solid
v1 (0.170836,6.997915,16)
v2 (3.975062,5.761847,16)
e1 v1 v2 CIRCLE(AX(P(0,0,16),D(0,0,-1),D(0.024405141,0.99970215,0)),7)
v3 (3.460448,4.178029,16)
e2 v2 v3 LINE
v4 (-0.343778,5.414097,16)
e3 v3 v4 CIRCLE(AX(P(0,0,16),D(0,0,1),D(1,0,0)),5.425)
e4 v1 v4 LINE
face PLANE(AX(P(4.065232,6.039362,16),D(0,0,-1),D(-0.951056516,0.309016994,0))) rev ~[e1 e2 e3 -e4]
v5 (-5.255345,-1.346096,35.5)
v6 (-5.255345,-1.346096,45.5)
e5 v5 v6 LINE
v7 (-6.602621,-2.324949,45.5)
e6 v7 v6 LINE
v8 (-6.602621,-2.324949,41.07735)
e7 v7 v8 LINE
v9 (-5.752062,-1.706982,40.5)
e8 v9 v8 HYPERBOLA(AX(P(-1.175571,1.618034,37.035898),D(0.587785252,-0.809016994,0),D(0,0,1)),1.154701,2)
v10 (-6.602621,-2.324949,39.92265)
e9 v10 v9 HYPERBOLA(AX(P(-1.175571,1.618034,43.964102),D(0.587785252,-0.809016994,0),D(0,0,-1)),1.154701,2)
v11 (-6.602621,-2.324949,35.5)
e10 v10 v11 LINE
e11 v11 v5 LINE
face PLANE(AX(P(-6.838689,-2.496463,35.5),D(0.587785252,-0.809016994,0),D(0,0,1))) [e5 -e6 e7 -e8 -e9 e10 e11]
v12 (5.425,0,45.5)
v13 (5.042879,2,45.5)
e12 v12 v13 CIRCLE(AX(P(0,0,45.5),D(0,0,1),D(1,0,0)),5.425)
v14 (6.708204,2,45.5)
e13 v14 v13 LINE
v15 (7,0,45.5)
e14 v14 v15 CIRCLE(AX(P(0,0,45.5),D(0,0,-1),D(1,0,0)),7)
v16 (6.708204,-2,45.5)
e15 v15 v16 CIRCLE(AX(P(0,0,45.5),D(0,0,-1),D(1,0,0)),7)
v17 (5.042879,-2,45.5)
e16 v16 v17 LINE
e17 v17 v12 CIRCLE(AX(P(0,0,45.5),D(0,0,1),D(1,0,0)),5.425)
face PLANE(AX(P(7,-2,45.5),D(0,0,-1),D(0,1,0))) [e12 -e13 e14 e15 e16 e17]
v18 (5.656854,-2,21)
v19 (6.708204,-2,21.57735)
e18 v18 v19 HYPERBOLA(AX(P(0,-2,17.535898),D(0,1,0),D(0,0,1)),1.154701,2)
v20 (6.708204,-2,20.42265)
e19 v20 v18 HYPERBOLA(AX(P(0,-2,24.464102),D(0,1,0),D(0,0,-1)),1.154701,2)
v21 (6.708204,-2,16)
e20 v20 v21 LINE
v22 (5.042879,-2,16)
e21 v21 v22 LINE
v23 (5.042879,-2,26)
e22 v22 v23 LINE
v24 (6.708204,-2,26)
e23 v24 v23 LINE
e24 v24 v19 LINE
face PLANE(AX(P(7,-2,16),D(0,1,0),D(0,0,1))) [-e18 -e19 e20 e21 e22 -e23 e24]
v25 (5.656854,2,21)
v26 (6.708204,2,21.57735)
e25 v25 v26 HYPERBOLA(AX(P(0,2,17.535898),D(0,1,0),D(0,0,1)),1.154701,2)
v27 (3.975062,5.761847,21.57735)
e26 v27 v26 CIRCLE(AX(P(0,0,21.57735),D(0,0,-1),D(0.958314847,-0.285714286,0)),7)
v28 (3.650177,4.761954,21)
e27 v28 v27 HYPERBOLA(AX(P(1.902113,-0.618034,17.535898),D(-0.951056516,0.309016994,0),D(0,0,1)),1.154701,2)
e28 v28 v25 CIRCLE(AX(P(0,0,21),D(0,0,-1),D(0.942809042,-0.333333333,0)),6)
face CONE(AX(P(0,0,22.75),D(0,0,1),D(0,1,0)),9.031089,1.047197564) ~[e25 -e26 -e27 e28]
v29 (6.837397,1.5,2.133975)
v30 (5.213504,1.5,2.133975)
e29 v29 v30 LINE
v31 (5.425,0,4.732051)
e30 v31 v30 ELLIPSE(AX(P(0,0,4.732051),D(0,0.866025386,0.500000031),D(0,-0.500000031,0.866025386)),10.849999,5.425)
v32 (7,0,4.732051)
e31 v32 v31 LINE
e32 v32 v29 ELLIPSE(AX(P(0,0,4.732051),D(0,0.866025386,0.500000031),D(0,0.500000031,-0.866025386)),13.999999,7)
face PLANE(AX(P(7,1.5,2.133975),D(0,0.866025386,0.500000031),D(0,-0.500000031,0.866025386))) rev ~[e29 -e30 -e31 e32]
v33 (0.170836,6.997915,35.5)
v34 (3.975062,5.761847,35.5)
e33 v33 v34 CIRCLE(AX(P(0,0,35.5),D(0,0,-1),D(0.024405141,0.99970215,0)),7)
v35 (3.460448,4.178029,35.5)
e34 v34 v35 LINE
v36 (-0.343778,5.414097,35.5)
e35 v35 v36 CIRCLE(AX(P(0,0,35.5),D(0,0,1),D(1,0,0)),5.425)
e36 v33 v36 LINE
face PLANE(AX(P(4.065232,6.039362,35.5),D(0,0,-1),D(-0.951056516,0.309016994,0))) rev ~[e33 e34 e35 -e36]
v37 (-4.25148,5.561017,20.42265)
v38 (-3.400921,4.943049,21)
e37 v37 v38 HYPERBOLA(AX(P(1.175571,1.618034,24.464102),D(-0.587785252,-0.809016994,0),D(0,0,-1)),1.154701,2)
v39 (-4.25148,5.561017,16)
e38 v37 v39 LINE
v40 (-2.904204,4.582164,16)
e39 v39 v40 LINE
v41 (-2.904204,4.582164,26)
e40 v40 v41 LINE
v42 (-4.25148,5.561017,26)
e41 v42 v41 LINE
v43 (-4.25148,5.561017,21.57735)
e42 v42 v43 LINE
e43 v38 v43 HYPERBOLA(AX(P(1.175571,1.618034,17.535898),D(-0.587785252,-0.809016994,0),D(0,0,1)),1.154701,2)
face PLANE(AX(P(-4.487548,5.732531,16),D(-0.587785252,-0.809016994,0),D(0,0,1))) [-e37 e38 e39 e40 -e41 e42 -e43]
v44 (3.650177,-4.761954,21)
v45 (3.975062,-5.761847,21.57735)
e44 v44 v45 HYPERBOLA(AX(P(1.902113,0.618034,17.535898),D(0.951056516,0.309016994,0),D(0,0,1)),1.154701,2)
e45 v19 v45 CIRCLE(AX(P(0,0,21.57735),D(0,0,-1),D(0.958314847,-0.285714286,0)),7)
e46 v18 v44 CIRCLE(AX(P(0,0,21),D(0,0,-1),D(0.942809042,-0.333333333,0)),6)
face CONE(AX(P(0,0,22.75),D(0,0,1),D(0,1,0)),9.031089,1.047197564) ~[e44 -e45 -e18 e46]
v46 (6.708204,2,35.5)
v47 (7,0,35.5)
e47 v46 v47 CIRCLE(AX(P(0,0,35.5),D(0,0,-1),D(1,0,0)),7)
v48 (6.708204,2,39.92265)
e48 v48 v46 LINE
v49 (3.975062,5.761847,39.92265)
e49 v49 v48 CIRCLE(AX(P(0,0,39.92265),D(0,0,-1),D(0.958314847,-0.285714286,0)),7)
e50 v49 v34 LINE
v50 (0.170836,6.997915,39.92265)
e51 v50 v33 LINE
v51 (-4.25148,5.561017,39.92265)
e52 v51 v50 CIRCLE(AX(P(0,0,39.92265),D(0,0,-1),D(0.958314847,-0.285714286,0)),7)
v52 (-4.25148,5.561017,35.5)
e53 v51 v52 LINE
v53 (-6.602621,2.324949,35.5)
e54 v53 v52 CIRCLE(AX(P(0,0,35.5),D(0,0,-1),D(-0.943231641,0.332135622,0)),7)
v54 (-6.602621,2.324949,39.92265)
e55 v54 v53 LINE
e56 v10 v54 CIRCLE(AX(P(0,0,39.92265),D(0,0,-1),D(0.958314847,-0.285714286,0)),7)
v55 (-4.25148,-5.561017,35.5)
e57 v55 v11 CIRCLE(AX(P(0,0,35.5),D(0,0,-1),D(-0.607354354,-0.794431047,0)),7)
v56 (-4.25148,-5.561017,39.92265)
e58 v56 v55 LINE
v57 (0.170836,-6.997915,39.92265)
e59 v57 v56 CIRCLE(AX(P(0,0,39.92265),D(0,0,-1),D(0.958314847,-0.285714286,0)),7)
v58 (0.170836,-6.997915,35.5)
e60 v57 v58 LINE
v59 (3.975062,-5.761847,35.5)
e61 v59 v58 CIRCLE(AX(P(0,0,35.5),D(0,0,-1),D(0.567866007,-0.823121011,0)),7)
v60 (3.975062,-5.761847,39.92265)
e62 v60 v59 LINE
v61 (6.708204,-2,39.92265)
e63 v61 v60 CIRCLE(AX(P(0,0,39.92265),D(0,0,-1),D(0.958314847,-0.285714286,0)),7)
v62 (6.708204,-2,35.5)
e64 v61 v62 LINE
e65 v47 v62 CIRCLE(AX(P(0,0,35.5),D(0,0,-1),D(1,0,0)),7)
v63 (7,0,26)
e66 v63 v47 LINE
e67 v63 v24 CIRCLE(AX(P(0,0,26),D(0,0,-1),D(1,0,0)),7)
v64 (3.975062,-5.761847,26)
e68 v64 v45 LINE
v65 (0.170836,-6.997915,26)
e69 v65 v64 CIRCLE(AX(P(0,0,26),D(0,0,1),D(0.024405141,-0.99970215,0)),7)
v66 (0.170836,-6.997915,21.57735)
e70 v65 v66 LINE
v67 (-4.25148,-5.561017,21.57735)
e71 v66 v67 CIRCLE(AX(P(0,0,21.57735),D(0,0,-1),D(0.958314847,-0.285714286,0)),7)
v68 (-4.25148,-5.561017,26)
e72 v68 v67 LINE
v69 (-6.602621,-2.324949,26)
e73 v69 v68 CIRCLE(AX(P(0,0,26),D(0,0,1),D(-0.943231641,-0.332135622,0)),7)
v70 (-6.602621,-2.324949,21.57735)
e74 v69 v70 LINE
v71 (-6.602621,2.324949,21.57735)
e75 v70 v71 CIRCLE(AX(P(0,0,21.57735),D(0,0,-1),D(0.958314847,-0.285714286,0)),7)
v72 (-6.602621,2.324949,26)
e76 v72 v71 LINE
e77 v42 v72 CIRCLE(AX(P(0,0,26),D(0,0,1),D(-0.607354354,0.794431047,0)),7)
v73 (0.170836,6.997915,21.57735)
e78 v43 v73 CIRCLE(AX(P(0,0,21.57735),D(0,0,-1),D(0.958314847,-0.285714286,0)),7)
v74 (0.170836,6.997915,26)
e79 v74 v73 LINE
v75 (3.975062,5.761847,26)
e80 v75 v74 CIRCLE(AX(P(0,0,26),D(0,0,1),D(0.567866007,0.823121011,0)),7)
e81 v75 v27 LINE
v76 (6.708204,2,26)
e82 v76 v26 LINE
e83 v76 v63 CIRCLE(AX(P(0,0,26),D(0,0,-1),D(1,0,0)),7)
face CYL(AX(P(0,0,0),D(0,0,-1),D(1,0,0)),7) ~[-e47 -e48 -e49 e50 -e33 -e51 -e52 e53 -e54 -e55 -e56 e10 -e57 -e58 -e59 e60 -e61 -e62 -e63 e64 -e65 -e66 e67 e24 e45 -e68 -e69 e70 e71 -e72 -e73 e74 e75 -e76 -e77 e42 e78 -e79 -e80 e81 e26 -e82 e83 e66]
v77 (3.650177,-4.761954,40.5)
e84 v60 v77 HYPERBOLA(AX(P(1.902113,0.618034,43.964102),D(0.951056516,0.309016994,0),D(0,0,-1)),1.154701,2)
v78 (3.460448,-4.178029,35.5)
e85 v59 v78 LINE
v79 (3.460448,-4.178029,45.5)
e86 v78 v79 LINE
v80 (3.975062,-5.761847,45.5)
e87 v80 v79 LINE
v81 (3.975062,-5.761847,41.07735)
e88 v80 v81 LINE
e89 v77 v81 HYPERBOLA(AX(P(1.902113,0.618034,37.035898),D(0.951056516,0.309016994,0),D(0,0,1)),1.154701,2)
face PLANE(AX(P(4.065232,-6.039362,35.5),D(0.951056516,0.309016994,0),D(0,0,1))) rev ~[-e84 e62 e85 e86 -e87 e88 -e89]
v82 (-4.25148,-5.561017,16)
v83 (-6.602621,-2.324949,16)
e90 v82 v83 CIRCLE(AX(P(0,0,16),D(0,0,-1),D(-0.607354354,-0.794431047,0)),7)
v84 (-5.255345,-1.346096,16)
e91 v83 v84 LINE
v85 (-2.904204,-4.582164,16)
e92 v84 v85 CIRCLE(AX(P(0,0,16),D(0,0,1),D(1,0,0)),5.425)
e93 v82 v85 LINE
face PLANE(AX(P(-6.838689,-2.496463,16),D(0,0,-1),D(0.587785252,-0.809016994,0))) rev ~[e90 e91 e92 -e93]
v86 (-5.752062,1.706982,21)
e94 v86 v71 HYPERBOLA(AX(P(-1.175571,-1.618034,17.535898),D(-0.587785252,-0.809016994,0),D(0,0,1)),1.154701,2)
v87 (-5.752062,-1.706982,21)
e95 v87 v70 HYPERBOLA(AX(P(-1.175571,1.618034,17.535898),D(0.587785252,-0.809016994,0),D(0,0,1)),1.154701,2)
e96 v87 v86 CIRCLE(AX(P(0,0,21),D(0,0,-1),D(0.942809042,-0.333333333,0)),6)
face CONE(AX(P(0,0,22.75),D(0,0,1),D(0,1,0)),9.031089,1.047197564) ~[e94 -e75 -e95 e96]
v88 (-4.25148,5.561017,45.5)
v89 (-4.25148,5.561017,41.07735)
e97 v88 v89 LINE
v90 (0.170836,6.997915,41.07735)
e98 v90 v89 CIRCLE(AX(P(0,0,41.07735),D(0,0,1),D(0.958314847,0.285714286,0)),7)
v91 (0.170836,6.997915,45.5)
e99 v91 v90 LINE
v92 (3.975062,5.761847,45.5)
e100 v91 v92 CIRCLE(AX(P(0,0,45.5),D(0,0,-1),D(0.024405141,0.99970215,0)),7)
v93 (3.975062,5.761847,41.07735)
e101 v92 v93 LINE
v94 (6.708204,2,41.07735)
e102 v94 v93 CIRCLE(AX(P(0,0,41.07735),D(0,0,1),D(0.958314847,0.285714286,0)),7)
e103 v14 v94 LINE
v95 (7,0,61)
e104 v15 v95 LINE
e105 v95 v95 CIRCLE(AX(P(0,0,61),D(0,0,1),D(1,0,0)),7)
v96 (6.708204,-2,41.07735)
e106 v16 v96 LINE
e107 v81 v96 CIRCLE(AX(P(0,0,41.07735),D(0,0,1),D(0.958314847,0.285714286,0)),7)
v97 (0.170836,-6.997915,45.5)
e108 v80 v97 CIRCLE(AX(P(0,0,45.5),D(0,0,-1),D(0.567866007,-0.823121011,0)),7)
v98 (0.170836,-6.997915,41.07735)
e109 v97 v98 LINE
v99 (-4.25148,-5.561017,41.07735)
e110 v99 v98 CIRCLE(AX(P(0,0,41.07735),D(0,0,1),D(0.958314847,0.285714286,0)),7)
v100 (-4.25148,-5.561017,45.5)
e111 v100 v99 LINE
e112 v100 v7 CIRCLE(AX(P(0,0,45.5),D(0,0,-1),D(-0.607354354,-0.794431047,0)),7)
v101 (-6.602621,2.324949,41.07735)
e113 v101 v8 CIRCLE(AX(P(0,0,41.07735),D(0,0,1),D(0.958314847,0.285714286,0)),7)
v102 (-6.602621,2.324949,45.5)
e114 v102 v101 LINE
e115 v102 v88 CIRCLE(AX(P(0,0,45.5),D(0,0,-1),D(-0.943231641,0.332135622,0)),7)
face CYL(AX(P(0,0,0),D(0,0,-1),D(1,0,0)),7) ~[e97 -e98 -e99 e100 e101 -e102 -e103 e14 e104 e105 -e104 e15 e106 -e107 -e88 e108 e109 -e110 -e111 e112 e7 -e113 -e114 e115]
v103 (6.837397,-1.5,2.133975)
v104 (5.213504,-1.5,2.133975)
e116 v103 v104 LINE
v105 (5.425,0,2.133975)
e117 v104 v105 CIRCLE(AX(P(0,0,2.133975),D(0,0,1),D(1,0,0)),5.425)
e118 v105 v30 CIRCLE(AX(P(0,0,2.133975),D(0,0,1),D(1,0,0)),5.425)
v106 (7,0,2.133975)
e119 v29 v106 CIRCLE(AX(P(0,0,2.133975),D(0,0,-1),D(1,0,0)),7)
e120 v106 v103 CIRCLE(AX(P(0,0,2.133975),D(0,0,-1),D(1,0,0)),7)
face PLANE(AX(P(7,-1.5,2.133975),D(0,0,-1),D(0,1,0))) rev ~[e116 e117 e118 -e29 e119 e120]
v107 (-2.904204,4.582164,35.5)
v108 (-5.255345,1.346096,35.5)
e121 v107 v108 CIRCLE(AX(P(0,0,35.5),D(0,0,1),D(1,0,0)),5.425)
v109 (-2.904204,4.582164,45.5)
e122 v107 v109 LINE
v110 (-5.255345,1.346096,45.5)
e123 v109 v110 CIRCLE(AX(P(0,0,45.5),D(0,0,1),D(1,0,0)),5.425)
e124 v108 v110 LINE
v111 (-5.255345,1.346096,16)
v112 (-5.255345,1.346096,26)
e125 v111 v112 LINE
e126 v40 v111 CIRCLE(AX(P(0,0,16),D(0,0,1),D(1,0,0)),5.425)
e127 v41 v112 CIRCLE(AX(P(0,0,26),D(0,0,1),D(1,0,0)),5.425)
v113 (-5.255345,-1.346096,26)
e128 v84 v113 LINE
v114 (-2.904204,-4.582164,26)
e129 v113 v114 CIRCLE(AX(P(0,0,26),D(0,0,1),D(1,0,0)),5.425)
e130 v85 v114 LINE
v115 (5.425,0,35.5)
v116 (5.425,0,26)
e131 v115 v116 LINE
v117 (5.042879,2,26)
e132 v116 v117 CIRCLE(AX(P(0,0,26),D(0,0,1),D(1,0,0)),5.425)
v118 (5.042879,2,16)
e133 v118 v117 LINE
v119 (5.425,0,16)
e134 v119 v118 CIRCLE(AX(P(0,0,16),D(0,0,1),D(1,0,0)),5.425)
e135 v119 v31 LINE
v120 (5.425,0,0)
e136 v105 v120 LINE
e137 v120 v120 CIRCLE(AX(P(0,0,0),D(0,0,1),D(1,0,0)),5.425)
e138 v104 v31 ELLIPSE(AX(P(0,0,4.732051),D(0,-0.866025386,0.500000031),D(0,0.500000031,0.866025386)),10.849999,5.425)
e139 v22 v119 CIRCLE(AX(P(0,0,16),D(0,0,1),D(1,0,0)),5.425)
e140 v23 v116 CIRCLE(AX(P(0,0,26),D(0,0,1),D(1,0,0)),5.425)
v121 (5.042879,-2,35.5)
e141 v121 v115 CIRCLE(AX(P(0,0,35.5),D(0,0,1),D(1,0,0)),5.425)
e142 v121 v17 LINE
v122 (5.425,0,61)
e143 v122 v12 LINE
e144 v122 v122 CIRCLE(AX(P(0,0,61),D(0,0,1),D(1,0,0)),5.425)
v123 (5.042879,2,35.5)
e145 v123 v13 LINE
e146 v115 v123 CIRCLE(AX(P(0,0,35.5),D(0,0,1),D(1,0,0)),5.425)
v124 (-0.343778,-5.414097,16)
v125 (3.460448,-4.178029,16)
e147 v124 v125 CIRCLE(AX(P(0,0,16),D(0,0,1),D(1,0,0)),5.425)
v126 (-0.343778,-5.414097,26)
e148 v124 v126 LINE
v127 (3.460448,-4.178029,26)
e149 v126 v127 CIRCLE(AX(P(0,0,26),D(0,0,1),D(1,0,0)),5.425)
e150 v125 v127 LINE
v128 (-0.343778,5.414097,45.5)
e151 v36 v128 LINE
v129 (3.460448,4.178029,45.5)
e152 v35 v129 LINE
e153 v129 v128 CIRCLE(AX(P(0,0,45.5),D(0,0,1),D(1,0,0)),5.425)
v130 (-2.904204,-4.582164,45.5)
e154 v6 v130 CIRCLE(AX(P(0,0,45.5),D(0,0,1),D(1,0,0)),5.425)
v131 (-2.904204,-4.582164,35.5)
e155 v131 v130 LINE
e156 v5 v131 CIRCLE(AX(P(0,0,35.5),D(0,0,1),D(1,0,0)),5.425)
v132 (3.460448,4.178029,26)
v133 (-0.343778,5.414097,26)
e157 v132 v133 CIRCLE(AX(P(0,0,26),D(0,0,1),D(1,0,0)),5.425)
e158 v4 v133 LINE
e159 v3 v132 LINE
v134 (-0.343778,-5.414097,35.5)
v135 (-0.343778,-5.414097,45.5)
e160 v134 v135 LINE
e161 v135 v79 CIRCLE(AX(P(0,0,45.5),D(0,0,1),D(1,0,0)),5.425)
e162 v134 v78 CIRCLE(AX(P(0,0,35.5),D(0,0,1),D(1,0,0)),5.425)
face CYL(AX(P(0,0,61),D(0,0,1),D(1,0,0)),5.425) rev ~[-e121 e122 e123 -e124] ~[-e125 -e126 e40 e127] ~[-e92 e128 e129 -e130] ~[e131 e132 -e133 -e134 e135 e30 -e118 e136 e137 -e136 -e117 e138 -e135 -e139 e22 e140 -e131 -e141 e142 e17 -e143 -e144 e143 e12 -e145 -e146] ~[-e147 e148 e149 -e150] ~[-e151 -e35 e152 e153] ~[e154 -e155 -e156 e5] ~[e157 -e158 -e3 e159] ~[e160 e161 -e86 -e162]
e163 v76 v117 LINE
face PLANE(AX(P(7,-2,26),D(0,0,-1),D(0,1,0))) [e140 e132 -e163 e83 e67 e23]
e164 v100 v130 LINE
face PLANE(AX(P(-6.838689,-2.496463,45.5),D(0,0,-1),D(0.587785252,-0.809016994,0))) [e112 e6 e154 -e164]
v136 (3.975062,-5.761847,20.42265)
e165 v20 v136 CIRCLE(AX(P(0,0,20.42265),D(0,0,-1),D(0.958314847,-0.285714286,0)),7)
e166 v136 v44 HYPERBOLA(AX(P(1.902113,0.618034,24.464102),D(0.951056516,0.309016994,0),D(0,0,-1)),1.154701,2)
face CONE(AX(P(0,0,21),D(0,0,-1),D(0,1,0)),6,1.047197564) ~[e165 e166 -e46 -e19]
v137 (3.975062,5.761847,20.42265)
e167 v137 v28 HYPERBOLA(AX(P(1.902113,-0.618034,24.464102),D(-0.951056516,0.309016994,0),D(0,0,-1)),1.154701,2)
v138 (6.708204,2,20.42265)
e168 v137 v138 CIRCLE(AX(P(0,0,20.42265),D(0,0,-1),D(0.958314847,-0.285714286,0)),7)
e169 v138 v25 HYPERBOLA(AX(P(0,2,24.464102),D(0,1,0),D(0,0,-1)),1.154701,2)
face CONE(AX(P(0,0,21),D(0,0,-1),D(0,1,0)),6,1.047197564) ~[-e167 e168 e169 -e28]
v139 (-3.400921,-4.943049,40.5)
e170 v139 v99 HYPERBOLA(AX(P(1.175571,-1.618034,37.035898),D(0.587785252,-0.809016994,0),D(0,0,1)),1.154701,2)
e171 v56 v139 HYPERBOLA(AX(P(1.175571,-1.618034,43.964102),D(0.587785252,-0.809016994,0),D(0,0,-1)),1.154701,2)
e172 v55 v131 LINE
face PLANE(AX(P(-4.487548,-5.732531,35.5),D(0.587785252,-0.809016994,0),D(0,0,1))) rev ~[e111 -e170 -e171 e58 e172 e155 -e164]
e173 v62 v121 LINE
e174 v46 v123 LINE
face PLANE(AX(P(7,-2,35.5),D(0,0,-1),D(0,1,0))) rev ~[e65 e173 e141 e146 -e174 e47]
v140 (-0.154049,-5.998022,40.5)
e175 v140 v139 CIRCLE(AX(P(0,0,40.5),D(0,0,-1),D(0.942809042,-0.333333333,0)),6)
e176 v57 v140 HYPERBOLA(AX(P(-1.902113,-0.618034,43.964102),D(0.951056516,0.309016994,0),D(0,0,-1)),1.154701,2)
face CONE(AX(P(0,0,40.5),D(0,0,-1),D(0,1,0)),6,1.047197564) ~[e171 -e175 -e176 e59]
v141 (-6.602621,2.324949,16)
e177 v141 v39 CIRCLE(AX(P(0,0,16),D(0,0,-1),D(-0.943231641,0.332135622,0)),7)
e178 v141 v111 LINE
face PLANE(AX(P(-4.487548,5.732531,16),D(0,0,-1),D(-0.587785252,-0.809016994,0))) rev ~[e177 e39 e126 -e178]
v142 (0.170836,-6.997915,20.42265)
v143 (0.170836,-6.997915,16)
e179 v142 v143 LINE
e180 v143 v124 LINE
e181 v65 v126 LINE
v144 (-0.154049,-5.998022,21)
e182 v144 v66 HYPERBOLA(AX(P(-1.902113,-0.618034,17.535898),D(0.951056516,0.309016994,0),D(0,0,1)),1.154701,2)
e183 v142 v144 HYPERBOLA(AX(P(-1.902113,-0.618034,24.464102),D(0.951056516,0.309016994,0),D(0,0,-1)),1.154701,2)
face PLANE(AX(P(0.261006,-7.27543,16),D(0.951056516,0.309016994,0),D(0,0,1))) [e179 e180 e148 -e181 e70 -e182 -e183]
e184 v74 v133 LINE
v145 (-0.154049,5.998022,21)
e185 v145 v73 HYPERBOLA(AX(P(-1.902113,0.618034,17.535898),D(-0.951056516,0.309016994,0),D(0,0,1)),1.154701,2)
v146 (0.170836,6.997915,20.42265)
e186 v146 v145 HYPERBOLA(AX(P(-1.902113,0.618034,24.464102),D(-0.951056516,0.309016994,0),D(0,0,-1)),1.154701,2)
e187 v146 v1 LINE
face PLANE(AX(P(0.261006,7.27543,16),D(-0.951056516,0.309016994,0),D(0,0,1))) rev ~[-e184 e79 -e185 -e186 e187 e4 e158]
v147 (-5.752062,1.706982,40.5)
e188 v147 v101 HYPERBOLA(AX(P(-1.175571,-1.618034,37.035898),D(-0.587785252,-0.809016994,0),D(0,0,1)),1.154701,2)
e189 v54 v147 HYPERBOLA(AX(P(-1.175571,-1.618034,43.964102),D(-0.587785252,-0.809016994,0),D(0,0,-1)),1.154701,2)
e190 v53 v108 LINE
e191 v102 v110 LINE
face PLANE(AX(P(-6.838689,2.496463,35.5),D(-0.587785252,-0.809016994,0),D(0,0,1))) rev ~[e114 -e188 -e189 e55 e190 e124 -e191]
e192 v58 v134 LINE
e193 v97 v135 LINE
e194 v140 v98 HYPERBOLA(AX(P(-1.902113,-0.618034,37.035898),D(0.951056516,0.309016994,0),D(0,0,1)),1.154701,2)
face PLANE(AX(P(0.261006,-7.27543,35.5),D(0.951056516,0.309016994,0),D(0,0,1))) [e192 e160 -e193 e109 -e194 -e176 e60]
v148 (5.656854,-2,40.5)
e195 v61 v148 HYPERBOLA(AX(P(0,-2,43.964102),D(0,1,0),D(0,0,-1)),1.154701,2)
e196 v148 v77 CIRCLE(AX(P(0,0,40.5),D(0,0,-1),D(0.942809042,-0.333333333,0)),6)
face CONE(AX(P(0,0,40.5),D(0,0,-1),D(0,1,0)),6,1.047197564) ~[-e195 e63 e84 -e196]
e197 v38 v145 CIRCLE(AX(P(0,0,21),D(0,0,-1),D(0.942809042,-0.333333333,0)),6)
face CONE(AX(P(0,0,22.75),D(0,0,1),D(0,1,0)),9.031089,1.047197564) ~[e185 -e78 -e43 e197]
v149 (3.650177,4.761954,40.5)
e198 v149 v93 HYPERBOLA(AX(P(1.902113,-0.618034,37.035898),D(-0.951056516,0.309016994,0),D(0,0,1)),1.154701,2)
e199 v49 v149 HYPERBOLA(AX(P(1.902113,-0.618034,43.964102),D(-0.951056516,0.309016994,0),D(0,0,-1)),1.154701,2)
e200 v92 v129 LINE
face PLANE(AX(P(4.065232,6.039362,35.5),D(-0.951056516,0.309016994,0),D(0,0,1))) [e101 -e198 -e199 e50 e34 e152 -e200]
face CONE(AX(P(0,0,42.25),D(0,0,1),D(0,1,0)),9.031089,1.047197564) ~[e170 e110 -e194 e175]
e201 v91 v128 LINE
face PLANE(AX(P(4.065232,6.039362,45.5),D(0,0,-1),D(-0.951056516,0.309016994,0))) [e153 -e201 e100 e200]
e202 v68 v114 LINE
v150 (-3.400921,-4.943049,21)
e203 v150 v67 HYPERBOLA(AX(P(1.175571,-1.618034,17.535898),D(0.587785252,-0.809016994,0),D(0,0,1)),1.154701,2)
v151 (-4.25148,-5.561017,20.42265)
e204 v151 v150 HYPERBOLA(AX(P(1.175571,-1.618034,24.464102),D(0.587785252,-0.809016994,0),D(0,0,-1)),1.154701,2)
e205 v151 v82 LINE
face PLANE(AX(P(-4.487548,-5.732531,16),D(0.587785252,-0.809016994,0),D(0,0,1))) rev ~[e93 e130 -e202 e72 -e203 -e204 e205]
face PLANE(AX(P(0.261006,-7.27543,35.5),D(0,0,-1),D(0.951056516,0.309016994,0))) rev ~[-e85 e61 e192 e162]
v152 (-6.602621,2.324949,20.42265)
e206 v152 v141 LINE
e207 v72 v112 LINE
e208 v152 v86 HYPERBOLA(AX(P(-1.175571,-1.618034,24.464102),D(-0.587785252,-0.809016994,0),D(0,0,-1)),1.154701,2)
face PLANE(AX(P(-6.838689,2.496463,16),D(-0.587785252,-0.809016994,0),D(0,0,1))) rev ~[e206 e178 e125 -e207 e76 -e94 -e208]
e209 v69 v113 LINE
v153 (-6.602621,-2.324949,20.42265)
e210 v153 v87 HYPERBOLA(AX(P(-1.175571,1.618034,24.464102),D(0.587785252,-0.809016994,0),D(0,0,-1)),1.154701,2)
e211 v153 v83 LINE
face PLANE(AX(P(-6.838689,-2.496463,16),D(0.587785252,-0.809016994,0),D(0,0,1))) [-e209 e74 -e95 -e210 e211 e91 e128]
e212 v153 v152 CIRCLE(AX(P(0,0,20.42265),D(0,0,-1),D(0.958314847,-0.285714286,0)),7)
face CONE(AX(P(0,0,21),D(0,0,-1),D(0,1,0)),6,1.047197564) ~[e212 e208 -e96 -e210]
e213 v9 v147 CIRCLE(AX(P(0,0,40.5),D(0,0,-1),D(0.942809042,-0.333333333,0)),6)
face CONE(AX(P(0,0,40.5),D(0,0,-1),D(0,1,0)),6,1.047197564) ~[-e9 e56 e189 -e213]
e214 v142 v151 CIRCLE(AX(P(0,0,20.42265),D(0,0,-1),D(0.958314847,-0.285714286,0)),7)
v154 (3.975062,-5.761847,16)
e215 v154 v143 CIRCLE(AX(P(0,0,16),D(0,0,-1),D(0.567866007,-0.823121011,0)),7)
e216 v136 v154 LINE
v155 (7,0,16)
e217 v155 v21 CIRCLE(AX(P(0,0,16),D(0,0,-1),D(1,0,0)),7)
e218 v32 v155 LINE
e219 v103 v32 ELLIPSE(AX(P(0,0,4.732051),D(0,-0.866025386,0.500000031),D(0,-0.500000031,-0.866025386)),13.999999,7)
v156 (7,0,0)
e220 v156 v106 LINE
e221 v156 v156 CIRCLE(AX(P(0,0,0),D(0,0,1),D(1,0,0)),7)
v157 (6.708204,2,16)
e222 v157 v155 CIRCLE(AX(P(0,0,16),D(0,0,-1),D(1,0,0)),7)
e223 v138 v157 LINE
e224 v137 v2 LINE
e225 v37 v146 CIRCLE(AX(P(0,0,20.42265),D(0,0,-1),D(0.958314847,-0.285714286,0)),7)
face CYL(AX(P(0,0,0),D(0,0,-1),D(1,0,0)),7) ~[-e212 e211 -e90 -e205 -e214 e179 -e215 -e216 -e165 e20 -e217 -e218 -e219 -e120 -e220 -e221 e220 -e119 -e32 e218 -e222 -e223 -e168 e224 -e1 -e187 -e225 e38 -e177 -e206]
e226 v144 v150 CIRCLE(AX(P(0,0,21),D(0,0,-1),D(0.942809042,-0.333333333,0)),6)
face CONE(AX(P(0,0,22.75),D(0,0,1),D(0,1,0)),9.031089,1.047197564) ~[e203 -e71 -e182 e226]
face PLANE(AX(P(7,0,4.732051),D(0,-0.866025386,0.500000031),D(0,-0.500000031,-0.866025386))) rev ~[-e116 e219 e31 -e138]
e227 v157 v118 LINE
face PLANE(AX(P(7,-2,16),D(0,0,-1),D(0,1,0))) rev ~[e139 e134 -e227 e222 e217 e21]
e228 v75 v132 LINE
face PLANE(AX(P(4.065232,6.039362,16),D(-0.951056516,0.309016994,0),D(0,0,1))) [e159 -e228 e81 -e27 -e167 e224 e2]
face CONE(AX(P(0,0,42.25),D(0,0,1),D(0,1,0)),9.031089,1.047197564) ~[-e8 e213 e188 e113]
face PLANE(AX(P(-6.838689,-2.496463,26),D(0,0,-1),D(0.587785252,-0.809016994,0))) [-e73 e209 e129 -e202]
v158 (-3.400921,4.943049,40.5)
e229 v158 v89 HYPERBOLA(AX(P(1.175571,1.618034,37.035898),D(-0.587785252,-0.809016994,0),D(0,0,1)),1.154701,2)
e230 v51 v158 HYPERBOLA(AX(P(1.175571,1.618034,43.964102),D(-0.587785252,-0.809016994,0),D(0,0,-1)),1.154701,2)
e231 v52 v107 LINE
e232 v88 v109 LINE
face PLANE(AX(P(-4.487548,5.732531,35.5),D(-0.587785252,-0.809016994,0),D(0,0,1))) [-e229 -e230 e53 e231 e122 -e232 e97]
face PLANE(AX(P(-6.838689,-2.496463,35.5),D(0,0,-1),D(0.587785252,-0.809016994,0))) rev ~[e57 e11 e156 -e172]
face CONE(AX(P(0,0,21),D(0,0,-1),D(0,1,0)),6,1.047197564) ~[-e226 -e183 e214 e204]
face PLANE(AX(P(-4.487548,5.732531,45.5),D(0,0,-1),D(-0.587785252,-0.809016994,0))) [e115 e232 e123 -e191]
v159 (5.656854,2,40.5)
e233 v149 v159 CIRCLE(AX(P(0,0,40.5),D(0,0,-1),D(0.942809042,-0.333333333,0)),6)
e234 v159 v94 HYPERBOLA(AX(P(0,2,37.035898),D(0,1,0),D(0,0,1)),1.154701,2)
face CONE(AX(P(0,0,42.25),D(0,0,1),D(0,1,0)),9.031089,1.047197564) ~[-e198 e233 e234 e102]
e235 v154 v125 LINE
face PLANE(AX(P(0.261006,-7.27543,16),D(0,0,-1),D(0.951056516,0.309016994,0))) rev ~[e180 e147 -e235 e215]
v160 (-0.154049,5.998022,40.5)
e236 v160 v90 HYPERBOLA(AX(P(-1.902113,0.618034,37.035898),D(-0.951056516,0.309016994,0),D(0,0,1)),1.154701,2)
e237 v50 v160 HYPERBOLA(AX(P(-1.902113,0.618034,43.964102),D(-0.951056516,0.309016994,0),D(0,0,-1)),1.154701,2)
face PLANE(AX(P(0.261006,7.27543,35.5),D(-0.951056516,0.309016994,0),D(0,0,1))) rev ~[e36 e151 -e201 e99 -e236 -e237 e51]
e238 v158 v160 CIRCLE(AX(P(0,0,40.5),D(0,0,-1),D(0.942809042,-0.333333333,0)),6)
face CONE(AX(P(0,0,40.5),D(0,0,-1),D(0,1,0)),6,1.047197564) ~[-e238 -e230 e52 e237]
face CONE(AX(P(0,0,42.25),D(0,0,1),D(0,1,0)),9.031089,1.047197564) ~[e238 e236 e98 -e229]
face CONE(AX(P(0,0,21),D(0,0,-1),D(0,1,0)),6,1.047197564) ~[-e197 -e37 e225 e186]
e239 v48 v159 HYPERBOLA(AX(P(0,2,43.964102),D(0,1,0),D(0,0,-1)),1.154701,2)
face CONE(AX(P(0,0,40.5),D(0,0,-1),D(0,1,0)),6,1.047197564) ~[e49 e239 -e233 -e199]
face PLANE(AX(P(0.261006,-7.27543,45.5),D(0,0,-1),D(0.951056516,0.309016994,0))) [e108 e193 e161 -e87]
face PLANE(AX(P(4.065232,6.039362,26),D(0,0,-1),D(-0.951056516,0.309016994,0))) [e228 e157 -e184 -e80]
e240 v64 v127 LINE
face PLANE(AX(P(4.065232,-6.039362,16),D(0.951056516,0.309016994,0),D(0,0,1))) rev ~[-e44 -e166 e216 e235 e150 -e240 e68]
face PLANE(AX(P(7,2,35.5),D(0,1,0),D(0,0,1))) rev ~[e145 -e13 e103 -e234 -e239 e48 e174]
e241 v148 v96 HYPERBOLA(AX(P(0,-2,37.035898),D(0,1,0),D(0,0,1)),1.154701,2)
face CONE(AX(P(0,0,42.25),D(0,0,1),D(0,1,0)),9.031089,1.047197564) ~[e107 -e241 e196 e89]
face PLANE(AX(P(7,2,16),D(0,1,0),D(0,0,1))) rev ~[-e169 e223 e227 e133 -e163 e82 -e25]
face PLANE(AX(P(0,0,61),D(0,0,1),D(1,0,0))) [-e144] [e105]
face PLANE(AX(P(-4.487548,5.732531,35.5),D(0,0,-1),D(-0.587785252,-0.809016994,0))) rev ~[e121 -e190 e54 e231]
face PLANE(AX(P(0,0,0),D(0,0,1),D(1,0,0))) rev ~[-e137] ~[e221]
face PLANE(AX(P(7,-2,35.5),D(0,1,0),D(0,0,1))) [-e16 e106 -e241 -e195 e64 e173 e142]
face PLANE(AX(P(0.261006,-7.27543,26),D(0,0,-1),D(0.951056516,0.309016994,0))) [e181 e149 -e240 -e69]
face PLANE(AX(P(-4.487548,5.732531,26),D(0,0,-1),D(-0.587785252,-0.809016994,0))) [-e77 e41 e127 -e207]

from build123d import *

# Parameters (mm, degrees)
SKETCH_R           = 7
PAD_DEPTH          = 61
SKETCH001_R        = 5.425
POCKET_DEPTH       = 61.001
POCKET001_DEPTH    = 5
SKETCH004_W        = 4
SKETCH004_H        = 10
POCKET002_DEPTH    = 5
POLARPATTERN_COUNT = 5


with BuildPart() as part:
    # Sketch → Pad (new body)
    with BuildSketch(Plane.XY):
        Circle(SKETCH_R)
    extrude(amount=PAD_DEPTH)

    # Sketch001 (on Face3 of Pad) → Pocket (cut, through all)
    with BuildSketch(Plane.XY.offset(61)):
        Circle(SKETCH001_R)
    extrude(amount=-POCKET_DEPTH, mode=Mode.SUBTRACT)

    # Sketch002 (on DatumPlane) → Groove (revolve, cut)
    with BuildSketch(Plane(origin=(0, 0, 30.5), x_dir=(0, 0, -1), z_dir=(1, 0, 0))):
        Polygon((9.5, 6), (11.25, 9.031089), (7.75, 9.031089), align=None)
        Polygon((-8.25, 9.031089), (-11.75, 9.031089), (-10, 6), align=None)
    revolve(axis=Axis((0, 0, 0), (0, 0, 1)), mode=Mode.SUBTRACT)

    # Sketch003 (on DatumPlane) → Pocket001 (cut)
    with BuildSketch(Plane.YZ.offset(7)):
        Polygon((0, 4.732051), (-1.5, 2.133975), (1.5, 2.133975), align=None)
    extrude(amount=-POCKET001_DEPTH, mode=Mode.SUBTRACT)

    # Sketch004 (on DatumPlane) → Pocket002 (cut)
    with BuildSketch(Plane.YZ.offset(7)):
        with Locations((0, 40.5)):
            Rectangle(SKETCH004_W, SKETCH004_H)
        with Locations((0, 21)):
            Rectangle(SKETCH004_W, SKETCH004_H)
    pocket002 = extrude(amount=-POCKET002_DEPTH, mode=Mode.SUBTRACT)

    # PolarPattern: Pocket002 ×5 about axis
    polarpattern_axis = Axis((0, 0, 0), (0, 0, 1))
    for i in range(1, POLARPATTERN_COUNT):
        add(pocket002.rotate(polarpattern_axis, i * 360 / POLARPATTERN_COUNT), mode=Mode.SUBTRACT)


solid = part.part
